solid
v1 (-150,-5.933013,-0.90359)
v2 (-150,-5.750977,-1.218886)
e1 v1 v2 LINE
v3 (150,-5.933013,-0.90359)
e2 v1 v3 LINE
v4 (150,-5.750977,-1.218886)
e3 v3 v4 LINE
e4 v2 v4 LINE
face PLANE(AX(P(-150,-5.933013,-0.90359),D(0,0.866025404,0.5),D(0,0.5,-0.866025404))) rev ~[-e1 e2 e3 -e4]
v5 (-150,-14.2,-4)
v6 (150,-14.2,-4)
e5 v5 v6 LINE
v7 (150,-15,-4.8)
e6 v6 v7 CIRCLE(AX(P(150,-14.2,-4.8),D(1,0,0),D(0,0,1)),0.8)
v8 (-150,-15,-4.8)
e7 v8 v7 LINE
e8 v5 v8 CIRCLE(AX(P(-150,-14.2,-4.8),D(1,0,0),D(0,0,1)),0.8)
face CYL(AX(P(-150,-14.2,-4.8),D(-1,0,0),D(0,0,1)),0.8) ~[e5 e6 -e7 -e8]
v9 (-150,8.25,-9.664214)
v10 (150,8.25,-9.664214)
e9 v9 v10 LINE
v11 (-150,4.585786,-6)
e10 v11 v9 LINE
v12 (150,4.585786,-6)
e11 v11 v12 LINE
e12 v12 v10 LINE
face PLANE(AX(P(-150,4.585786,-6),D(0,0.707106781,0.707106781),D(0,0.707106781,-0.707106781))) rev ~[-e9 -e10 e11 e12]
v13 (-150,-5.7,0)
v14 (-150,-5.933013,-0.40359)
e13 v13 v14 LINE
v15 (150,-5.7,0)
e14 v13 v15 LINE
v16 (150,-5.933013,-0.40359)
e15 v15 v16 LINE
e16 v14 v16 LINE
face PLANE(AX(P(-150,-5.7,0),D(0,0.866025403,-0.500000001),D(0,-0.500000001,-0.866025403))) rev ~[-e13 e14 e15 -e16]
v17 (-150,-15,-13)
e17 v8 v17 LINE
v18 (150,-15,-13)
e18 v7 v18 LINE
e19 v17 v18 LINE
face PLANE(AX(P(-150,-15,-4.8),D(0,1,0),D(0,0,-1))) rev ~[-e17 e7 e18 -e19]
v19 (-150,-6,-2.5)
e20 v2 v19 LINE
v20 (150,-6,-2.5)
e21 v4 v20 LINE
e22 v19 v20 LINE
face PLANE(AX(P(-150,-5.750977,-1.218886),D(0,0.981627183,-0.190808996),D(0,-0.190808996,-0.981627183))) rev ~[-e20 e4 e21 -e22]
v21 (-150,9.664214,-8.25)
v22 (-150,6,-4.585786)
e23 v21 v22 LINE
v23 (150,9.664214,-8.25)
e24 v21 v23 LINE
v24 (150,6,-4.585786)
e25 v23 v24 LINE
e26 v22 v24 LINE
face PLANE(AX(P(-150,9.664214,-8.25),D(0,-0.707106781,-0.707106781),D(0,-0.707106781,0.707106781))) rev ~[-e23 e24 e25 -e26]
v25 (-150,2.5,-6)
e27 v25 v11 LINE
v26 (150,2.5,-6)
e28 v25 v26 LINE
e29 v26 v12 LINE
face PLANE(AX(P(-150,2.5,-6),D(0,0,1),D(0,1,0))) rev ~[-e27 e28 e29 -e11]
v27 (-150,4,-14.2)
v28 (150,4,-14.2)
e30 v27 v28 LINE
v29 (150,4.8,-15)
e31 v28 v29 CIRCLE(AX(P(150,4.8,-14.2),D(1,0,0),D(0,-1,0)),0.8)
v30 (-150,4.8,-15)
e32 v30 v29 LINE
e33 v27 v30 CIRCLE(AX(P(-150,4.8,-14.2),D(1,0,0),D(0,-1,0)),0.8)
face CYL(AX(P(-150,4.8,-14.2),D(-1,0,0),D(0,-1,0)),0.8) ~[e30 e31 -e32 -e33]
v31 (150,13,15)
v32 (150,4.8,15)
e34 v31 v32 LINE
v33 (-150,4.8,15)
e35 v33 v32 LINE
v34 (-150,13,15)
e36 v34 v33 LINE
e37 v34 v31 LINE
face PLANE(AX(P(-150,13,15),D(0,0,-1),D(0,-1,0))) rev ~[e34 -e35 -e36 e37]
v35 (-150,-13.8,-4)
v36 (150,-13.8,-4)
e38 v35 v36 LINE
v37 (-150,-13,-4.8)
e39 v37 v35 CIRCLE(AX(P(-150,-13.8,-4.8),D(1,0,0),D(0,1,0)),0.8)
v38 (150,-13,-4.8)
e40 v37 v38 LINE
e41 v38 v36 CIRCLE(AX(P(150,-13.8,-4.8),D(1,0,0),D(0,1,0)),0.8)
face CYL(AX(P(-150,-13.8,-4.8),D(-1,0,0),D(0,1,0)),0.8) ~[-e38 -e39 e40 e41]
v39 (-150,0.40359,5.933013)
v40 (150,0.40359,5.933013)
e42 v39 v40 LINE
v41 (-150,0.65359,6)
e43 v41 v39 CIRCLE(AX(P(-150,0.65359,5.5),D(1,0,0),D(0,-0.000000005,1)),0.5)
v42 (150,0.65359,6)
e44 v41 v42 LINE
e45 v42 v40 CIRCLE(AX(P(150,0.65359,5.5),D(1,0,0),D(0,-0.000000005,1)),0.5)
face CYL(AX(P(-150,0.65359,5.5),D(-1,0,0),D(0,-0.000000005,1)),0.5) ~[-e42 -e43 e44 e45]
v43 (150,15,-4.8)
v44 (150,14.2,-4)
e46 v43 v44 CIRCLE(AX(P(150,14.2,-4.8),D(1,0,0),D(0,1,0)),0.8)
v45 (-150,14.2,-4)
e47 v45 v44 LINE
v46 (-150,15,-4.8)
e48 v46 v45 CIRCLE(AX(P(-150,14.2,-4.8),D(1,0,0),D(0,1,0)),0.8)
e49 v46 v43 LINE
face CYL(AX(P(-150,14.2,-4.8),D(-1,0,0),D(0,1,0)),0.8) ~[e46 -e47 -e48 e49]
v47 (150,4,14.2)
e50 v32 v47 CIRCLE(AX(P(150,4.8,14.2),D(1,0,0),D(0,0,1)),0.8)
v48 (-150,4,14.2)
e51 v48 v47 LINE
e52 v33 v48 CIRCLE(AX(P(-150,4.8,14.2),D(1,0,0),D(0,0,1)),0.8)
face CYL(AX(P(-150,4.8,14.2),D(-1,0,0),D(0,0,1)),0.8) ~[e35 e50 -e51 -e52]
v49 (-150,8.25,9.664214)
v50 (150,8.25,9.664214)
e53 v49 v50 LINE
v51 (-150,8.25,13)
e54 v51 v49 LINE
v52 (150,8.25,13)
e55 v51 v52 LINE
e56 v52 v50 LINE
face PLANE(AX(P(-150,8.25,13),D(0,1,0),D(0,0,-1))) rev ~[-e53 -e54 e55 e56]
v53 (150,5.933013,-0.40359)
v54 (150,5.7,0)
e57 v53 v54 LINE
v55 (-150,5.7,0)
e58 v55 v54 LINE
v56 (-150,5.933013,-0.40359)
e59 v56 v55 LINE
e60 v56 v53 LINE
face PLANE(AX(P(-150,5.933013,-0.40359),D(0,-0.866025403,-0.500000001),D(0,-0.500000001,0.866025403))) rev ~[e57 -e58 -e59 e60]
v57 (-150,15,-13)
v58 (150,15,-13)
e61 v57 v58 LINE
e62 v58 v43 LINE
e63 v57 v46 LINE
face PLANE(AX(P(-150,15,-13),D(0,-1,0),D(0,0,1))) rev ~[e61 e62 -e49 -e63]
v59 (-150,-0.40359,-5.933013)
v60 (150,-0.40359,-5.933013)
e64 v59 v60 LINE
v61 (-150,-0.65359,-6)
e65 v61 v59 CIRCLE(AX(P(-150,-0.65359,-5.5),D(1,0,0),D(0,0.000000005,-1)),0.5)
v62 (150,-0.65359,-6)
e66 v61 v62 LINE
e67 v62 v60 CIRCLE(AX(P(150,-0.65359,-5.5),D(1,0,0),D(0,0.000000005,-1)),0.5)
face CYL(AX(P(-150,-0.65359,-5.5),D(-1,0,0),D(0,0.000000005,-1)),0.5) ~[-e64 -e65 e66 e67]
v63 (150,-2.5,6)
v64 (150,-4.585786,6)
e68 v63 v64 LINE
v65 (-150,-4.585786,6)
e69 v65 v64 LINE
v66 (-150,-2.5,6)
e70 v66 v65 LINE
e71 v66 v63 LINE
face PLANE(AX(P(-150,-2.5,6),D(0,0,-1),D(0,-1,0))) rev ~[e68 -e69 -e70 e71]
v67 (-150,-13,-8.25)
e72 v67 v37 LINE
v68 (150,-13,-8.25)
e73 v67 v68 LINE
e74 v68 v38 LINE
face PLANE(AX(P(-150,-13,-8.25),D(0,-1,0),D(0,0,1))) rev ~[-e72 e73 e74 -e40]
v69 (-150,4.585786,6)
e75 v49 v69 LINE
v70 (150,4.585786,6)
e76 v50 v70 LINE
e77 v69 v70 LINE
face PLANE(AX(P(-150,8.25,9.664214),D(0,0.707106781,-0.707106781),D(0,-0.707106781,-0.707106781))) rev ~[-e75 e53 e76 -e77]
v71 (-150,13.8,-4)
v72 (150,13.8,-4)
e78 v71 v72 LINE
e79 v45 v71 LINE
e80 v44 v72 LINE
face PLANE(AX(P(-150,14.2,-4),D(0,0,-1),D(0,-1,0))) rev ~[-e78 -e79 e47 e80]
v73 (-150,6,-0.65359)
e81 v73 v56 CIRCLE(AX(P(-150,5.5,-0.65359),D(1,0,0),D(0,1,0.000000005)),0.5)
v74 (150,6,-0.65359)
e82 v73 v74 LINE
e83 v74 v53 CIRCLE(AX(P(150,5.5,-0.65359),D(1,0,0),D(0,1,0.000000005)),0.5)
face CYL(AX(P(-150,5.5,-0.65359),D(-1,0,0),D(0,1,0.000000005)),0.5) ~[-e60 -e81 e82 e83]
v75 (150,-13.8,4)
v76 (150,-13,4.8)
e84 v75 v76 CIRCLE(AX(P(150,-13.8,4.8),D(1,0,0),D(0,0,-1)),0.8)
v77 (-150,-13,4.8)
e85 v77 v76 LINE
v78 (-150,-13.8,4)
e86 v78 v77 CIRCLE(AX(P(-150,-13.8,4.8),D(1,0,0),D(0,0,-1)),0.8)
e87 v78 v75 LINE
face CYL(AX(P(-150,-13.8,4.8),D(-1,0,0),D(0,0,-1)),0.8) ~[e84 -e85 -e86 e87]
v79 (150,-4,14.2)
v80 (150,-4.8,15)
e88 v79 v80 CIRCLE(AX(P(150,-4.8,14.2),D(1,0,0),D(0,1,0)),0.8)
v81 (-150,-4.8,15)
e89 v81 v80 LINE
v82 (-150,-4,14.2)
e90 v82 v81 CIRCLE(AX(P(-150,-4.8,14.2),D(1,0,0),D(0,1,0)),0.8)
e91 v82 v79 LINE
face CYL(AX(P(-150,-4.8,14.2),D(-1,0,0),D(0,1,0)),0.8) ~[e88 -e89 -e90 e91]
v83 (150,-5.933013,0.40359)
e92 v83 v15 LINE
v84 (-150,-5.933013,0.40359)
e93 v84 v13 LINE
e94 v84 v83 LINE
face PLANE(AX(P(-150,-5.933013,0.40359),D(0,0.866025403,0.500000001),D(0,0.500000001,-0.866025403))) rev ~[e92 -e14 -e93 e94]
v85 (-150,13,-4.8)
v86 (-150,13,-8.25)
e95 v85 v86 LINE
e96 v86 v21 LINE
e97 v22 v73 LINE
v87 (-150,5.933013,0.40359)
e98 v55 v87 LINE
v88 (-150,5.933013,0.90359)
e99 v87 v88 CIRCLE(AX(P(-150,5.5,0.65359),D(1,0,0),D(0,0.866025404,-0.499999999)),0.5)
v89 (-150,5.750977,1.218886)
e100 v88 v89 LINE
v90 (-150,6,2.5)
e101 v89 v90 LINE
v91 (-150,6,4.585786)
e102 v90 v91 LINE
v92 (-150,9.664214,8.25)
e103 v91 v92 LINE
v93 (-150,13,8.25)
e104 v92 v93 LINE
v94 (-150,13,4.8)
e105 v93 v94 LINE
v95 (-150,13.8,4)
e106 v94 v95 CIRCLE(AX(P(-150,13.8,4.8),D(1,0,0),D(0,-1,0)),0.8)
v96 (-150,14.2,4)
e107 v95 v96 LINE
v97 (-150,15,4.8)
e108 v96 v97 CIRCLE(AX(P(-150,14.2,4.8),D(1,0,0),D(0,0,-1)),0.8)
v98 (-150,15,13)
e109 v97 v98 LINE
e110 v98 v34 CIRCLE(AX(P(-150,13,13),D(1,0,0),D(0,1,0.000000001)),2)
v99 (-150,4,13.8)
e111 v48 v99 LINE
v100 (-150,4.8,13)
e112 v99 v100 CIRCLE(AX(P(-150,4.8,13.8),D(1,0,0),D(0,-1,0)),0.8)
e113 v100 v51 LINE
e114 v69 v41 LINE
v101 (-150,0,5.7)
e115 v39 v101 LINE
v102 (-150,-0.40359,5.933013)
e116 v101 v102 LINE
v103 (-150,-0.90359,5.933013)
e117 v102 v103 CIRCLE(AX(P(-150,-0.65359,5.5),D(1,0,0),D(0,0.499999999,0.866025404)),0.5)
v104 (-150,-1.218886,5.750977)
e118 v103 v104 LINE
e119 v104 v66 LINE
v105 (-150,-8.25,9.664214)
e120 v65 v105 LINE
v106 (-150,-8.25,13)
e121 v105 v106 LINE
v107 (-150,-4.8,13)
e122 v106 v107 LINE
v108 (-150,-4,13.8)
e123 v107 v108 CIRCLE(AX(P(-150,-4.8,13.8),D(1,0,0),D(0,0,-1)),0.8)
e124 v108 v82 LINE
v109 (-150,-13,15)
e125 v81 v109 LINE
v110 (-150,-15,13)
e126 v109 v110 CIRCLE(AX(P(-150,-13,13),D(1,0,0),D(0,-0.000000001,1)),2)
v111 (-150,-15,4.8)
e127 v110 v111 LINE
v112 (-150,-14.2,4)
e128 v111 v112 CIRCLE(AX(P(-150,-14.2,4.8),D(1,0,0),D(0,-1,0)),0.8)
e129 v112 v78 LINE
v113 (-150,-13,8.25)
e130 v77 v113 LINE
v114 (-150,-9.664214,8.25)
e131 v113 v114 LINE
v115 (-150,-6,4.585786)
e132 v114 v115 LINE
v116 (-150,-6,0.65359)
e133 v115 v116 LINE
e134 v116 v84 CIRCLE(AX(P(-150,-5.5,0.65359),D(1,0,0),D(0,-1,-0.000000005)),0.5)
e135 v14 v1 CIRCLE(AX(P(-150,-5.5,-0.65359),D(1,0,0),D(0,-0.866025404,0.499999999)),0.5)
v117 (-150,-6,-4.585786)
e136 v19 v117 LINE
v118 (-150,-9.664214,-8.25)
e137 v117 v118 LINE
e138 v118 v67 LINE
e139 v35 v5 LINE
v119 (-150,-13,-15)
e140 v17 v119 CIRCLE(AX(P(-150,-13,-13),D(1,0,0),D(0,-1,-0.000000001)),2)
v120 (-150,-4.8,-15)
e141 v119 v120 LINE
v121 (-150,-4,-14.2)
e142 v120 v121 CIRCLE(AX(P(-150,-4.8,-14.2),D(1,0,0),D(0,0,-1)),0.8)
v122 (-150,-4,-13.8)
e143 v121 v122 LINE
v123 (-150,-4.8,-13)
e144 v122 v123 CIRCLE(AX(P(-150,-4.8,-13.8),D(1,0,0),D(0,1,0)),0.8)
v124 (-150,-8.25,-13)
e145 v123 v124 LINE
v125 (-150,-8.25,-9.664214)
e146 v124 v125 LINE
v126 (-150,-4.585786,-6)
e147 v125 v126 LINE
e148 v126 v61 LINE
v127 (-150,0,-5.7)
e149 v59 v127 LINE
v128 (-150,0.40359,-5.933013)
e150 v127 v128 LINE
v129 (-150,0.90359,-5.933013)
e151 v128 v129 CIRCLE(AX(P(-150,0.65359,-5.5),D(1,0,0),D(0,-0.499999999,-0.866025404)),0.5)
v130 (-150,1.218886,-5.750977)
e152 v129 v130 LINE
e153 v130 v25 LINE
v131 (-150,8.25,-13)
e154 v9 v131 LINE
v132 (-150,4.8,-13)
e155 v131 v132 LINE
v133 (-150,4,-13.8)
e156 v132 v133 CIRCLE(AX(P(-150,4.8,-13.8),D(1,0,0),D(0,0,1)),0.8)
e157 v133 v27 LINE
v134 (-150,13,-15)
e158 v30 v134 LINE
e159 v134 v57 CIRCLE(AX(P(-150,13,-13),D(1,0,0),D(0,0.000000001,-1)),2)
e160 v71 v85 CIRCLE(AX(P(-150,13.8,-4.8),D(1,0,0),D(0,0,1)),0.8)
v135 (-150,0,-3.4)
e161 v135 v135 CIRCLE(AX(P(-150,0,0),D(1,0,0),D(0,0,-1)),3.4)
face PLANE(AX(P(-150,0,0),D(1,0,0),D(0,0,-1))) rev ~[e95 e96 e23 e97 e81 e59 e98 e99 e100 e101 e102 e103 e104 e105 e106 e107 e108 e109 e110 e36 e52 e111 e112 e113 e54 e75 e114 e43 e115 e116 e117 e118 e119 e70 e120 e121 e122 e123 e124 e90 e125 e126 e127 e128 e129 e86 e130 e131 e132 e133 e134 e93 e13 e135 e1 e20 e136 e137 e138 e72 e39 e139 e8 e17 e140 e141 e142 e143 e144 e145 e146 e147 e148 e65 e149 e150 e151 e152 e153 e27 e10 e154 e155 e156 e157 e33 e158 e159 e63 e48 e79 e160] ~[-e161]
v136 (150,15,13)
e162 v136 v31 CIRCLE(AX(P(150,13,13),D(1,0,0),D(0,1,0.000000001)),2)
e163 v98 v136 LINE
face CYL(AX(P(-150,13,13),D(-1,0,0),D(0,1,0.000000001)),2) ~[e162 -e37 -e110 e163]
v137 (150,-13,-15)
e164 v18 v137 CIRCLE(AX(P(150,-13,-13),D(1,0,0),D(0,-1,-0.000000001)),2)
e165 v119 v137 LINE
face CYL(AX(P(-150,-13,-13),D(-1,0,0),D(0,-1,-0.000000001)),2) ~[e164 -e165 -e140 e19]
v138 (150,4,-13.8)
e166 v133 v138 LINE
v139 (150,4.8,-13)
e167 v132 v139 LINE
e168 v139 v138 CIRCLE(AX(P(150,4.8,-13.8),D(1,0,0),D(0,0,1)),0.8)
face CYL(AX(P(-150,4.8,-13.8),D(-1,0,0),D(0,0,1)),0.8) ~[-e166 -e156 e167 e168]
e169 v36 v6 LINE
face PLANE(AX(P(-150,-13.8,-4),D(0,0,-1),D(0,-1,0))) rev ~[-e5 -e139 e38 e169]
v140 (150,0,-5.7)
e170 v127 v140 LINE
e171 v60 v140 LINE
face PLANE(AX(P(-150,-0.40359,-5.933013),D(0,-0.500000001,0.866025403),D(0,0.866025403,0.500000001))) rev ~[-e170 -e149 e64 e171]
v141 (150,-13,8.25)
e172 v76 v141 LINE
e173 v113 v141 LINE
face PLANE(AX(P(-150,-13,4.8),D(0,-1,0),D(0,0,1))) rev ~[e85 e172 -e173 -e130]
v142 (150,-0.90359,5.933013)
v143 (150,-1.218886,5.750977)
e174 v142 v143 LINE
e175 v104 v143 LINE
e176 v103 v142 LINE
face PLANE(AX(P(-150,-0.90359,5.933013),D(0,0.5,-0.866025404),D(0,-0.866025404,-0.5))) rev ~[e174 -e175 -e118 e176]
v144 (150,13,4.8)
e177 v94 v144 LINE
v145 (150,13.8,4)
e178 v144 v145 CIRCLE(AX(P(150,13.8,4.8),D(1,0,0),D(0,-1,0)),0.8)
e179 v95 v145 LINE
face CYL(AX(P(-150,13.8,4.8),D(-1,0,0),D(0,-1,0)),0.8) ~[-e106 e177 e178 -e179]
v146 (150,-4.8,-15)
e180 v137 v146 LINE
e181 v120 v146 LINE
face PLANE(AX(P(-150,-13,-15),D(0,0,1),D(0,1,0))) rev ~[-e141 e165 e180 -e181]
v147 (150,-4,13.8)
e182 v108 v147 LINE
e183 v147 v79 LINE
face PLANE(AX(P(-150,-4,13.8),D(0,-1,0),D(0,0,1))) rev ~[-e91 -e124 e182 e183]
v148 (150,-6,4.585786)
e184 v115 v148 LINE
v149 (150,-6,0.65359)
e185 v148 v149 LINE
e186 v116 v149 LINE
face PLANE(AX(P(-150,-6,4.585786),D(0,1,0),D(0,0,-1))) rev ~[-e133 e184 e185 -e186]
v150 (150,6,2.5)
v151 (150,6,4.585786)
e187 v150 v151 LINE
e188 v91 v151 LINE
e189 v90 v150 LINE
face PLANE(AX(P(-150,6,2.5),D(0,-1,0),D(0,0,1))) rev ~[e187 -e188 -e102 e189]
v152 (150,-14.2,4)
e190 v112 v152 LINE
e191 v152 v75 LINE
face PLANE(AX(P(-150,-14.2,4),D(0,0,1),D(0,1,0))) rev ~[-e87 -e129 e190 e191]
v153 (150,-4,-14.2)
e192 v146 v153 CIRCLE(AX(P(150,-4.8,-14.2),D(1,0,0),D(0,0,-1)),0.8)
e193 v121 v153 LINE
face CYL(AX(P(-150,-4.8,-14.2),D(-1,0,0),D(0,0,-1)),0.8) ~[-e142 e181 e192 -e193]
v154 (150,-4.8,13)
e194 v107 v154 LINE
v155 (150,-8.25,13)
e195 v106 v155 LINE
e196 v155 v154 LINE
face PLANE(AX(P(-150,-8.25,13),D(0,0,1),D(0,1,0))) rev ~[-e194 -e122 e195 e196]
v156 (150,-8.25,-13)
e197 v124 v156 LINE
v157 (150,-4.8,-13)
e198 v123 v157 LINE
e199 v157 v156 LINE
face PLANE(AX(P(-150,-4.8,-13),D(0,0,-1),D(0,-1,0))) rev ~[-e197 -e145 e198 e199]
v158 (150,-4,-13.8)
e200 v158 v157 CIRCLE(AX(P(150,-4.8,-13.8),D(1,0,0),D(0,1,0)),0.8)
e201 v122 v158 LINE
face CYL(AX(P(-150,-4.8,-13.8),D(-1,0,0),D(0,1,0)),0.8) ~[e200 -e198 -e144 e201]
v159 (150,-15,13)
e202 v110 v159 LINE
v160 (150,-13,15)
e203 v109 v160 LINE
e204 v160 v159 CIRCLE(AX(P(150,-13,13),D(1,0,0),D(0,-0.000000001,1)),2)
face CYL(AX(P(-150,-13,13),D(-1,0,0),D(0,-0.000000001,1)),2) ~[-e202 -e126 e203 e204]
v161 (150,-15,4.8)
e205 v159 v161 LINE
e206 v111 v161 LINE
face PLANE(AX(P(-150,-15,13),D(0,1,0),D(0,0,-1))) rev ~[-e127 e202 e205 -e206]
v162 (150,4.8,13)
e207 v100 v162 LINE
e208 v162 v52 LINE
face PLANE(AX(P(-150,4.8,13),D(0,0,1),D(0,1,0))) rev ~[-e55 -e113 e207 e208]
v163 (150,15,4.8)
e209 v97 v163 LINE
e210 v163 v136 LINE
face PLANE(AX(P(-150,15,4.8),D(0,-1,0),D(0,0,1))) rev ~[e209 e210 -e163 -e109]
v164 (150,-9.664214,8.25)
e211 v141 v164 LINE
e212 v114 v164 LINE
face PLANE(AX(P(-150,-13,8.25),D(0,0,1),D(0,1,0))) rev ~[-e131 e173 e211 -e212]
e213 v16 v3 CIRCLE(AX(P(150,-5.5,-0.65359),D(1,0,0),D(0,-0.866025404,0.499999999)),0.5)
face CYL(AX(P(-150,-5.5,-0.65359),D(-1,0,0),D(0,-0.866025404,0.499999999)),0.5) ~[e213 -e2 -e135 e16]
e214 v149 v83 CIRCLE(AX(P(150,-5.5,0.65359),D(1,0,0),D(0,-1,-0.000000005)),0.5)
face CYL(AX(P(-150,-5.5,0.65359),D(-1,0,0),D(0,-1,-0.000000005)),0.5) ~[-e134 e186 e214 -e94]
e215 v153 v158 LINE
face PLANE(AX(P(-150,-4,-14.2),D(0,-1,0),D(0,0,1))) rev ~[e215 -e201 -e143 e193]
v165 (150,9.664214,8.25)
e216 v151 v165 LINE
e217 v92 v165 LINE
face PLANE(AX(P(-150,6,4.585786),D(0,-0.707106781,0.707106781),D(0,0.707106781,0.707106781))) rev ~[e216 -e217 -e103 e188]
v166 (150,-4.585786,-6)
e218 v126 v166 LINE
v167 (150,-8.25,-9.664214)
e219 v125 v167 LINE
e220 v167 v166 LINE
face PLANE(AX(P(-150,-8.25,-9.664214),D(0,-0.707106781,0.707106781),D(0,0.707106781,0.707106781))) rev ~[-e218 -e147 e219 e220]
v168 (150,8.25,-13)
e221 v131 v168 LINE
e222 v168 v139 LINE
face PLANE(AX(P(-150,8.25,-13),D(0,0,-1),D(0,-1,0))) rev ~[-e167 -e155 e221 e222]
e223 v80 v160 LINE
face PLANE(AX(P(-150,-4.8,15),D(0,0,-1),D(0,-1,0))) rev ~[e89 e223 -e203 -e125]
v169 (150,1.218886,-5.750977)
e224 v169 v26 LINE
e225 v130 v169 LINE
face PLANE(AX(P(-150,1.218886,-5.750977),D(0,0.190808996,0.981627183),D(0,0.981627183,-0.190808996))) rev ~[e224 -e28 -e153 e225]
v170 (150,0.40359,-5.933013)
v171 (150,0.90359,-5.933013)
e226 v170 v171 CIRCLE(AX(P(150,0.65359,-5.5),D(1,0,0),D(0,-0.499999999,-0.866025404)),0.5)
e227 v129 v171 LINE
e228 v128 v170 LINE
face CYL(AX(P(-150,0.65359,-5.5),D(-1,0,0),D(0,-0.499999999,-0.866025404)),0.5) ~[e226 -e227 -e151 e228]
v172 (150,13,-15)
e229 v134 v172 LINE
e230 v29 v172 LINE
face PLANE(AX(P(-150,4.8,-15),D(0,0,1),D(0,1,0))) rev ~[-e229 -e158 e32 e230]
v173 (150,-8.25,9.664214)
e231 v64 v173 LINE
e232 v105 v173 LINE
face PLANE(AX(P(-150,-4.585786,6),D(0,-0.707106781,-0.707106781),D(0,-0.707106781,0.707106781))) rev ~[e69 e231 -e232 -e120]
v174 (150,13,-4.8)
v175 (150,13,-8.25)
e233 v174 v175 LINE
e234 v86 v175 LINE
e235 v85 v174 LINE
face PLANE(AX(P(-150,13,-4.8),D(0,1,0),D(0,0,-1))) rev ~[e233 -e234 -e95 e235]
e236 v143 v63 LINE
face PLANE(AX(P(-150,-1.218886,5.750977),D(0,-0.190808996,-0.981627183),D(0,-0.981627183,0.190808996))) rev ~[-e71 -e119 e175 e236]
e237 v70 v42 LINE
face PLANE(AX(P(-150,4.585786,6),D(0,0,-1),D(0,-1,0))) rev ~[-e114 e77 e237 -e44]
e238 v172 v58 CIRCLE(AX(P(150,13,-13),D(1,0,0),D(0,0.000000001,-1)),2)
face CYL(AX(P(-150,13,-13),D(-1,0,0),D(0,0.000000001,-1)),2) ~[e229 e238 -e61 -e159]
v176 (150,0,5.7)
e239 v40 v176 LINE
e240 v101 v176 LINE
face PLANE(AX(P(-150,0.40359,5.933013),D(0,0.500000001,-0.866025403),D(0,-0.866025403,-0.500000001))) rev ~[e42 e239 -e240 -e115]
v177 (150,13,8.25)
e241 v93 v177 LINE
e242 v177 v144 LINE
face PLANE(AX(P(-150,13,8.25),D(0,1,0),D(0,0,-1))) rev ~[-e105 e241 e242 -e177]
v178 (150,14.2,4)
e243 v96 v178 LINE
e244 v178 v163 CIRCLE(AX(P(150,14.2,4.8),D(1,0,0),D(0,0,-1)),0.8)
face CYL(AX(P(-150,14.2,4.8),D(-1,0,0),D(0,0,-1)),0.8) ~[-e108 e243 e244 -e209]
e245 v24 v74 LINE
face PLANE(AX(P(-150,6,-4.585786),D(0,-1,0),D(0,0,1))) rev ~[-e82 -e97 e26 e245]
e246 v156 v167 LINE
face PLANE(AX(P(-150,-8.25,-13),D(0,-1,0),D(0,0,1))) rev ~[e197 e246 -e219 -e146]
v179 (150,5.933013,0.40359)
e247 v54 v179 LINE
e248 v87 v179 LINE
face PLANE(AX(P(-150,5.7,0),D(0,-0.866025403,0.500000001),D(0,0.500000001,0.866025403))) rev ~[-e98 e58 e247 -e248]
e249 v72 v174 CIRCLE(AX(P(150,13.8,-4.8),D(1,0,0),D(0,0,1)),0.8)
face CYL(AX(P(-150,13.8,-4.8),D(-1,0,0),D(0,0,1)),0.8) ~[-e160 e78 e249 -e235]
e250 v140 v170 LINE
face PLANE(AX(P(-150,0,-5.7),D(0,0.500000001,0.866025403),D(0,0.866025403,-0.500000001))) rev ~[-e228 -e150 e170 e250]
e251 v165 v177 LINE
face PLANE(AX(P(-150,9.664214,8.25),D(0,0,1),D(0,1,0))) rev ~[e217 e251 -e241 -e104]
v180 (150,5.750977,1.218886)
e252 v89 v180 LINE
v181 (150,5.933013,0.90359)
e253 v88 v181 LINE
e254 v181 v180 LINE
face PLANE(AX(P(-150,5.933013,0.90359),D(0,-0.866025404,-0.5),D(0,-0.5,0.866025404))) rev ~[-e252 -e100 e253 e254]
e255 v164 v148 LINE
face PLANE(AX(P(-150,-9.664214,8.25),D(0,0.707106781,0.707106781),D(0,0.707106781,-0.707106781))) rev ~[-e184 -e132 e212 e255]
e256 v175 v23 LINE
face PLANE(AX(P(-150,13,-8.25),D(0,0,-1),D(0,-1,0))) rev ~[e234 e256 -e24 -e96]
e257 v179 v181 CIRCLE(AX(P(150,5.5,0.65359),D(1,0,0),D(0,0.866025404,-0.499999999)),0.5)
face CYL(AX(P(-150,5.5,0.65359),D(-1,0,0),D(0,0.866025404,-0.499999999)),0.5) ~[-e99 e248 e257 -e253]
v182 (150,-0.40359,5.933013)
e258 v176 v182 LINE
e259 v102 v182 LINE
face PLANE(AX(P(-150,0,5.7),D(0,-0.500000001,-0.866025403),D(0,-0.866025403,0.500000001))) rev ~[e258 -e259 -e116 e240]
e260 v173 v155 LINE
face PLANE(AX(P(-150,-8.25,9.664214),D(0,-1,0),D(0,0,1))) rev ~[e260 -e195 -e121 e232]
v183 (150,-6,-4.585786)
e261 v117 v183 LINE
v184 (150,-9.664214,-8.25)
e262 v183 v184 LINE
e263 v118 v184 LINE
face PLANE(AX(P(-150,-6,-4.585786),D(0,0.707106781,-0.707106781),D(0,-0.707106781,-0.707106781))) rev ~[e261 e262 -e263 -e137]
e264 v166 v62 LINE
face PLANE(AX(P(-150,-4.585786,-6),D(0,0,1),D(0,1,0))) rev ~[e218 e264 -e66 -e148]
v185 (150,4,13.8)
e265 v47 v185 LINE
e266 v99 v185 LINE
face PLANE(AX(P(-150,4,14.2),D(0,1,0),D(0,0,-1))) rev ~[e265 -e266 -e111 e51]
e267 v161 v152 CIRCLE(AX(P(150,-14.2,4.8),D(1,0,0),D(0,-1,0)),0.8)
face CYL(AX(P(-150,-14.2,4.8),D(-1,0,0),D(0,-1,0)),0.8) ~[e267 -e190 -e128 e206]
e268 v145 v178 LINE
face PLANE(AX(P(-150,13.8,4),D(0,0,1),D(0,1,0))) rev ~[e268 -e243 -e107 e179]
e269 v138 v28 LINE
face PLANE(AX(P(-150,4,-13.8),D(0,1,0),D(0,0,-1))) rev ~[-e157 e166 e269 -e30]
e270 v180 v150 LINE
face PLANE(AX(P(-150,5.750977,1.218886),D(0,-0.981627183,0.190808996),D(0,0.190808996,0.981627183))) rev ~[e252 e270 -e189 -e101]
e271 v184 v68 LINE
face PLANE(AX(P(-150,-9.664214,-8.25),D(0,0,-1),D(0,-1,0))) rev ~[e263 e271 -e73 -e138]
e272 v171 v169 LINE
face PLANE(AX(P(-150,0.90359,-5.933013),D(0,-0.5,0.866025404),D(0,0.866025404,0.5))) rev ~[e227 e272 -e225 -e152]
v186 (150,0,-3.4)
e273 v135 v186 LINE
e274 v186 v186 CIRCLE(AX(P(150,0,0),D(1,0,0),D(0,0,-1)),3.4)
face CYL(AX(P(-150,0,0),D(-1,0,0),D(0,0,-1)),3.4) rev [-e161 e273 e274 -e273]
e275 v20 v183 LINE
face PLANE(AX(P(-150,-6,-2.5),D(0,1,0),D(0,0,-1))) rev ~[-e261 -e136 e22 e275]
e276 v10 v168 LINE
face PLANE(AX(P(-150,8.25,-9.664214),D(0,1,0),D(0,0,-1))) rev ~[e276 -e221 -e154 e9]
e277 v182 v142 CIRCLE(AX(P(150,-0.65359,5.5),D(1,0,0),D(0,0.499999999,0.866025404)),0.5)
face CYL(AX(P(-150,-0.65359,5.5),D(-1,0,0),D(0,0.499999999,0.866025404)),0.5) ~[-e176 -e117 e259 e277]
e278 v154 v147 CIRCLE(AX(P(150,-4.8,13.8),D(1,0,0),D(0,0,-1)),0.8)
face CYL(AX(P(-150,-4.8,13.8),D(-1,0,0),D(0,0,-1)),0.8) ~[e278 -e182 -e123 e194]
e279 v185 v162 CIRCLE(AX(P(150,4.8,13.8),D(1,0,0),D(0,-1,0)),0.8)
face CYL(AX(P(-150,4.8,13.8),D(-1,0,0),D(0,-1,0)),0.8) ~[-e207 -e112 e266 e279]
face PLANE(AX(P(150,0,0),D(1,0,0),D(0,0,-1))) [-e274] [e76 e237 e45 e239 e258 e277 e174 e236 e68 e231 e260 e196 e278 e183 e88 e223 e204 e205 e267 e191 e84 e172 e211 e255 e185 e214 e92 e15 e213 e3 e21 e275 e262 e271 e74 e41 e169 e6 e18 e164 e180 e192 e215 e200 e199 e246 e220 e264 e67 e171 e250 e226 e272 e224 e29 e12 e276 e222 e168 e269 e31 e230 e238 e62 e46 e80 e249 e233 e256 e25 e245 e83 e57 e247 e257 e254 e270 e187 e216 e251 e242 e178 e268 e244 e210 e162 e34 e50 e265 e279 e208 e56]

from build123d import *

# Parameters (mm, degrees)
SKETCH_1_R             = 3.4
F_30_X_30_X_R2_2_DEPTH = 300


with BuildPart() as part:
    # 草图1 → 铝型材 30 X 30 X R2(2) (new body)
    with BuildSketch(Plane(origin=(-150, 0, 0), x_dir=(0, 0, -1), z_dir=(1, 0, 0))):
        with BuildLine():
            Line((-15, -4.8), (-15, -13))
            ThreePointArc((-15, -13), (-14.414213562, -14.414213562), (-13, -15))
            Line((-13, -15), (-4.8, -15))
            ThreePointArc((-4.8, -15), (-4.234314575, -14.765685425), (-4, -14.2))
            Line((-4, -14.2), (-4, -13.8))
            ThreePointArc((-4, -13.8), (-4.234314575, -13.234314575), (-4.8, -13))
            Line((-4.8, -13), (-8.25, -13))
            Line((-8.25, -13), (-8.25, -9.664213562))
            Line((-8.25, -9.664213562), (-4.585786438, -6))
            Line((-4.585786438, -6), (-0.653589838, -6))
            ThreePointArc((-0.653589838, -6), (-0.524180316, -5.982962913), (-0.403589838, -5.933012702))
            Line((-0.403589838, -5.933012702), (0, -5.7))
            Line((0, -5.7), (0.403589838, -5.933012702))
            ThreePointArc((0.403589838, -5.933012702), (0.653589838, -6), (0.903589838, -5.933012702))
            Line((0.903589838, -5.933012702), (1.218885629, -5.750976592))
            Line((1.218885629, -5.750976592), (2.5, -6))
            Line((2.5, -6), (4.585786438, -6))
            Line((4.585786438, -6), (8.25, -9.664213562))
            Line((8.25, -9.664213562), (8.25, -13))
            Line((8.25, -13), (4.8, -13))
            ThreePointArc((4.8, -13), (4.234314575, -13.234314575), (4, -13.8))
            Line((4, -13.8), (4, -14.2))
            ThreePointArc((4, -14.2), (4.234314575, -14.765685425), (4.8, -15))
            Line((4.8, -15), (13, -15))
            ThreePointArc((13, -15), (14.414213562, -14.414213562), (15, -13))
            Line((15, -13), (15, -4.8))
            ThreePointArc((15, -4.8), (14.765685425, -4.234314575), (14.2, -4))
            Line((14.2, -4), (13.8, -4))
            ThreePointArc((13.8, -4), (13.234314575, -4.234314575), (13, -4.8))
            Line((13, -4.8), (13, -8.25))
            Line((13, -8.25), (9.664213562, -8.25))
            Line((9.664213562, -8.25), (6, -4.585786438))
            Line((6, -4.585786438), (6, -0.653589838))
            ThreePointArc((6, -0.653589838), (5.982962913, -0.524180316), (5.933012702, -0.403589838))
            Line((5.933012702, -0.403589838), (5.7, 0))
            Line((5.7, 0), (5.933012702, 0.403589838))
            ThreePointArc((5.933012702, 0.403589838), (6, 0.653589838), (5.933012702, 0.903589838))
            Line((5.933012702, 0.903589838), (5.750976592, 1.218885629))
            Line((5.750976592, 1.218885629), (6, 2.5))
            Line((6, 2.5), (6, 4.585786438))
            Line((6, 4.585786438), (9.664213562, 8.25))
            Line((9.664213562, 8.25), (13, 8.25))
            Line((13, 8.25), (13, 4.8))
            ThreePointArc((13, 4.8), (13.234314575, 4.234314575), (13.8, 4))
            Line((13.8, 4), (14.2, 4))
            ThreePointArc((14.2, 4), (14.765685425, 4.234314575), (15, 4.8))
            Line((15, 4.8), (15, 13))
            ThreePointArc((15, 13), (14.414213562, 14.414213562), (13, 15))
            Line((13, 15), (4.8, 15))
            ThreePointArc((4.8, 15), (4.234314575, 14.765685425), (4, 14.2))
            Line((4, 14.2), (4, 13.8))
            ThreePointArc((4, 13.8), (4.234314575, 13.234314575), (4.8, 13))
            Line((4.8, 13), (8.25, 13))
            Line((8.25, 13), (8.25, 9.664213562))
            Line((8.25, 9.664213562), (4.585786438, 6))
            Line((4.585786438, 6), (0.653589838, 6))
            ThreePointArc((0.653589838, 6), (0.524180316, 5.982962913), (0.403589838, 5.933012702))
            Line((0.403589838, 5.933012702), (0, 5.7))
            Line((0, 5.7), (-0.403589838, 5.933012702))
            ThreePointArc((-0.403589838, 5.933012702), (-0.653589838, 6), (-0.903589838, 5.933012702))
            Line((-0.903589838, 5.933012702), (-1.218885629, 5.750976592))
            Line((-1.218885629, 5.750976592), (-2.5, 6))
            Line((-2.5, 6), (-4.585786438, 6))
            Line((-4.585786438, 6), (-8.25, 9.664213562))
            Line((-8.25, 9.664213562), (-8.25, 13))
            Line((-8.25, 13), (-4.8, 13))
            ThreePointArc((-4.8, 13), (-4.234314575, 13.234314575), (-4, 13.8))
            Line((-4, 13.8), (-4, 14.2))
            ThreePointArc((-4, 14.2), (-4.234314575, 14.765685425), (-4.8, 15))
            Line((-4.8, 15), (-13, 15))
            ThreePointArc((-13, 15), (-14.414213562, 14.414213562), (-15, 13))
            Line((-15, 13), (-15, 4.8))
            ThreePointArc((-15, 4.8), (-14.765685425, 4.234314575), (-14.2, 4))
            Line((-14.2, 4), (-13.8, 4))
            ThreePointArc((-13.8, 4), (-13.234314575, 4.234314575), (-13, 4.8))
            Line((-13, 4.8), (-13, 8.25))
            Line((-13, 8.25), (-9.664213562, 8.25))
            Line((-9.664213562, 8.25), (-6, 4.585786438))
            Line((-6, 4.585786438), (-6, 0.653589838))
            ThreePointArc((-6, 0.653589838), (-5.982962913, 0.524180316), (-5.933012702, 0.403589838))
            Line((-5.933012702, 0.403589838), (-5.7, 0))
            Line((-5.7, 0), (-5.933012702, -0.403589838))
            ThreePointArc((-5.933012702, -0.403589838), (-6, -0.653589838), (-5.933012702, -0.903589838))
            Line((-5.933012702, -0.903589838), (-5.750976592, -1.218885629))
            Line((-5.750976592, -1.218885629), (-6, -2.5))
            Line((-6, -2.5), (-6, -4.585786438))
            Line((-6, -4.585786438), (-9.664213562, -8.25))
            Line((-9.664213562, -8.25), (-13, -8.25))
            Line((-13, -8.25), (-13, -4.8))
            ThreePointArc((-13, -4.8), (-13.234314575, -4.234314575), (-13.8, -4))
            Line((-13.8, -4), (-14.2, -4))
            ThreePointArc((-14.2, -4), (-14.765685425, -4.234314575), (-15, -4.8))
        make_face()
        Circle(SKETCH_1_R, mode=Mode.SUBTRACT)
    extrude(amount=F_30_X_30_X_R2_2_DEPTH)


solid = part.part
